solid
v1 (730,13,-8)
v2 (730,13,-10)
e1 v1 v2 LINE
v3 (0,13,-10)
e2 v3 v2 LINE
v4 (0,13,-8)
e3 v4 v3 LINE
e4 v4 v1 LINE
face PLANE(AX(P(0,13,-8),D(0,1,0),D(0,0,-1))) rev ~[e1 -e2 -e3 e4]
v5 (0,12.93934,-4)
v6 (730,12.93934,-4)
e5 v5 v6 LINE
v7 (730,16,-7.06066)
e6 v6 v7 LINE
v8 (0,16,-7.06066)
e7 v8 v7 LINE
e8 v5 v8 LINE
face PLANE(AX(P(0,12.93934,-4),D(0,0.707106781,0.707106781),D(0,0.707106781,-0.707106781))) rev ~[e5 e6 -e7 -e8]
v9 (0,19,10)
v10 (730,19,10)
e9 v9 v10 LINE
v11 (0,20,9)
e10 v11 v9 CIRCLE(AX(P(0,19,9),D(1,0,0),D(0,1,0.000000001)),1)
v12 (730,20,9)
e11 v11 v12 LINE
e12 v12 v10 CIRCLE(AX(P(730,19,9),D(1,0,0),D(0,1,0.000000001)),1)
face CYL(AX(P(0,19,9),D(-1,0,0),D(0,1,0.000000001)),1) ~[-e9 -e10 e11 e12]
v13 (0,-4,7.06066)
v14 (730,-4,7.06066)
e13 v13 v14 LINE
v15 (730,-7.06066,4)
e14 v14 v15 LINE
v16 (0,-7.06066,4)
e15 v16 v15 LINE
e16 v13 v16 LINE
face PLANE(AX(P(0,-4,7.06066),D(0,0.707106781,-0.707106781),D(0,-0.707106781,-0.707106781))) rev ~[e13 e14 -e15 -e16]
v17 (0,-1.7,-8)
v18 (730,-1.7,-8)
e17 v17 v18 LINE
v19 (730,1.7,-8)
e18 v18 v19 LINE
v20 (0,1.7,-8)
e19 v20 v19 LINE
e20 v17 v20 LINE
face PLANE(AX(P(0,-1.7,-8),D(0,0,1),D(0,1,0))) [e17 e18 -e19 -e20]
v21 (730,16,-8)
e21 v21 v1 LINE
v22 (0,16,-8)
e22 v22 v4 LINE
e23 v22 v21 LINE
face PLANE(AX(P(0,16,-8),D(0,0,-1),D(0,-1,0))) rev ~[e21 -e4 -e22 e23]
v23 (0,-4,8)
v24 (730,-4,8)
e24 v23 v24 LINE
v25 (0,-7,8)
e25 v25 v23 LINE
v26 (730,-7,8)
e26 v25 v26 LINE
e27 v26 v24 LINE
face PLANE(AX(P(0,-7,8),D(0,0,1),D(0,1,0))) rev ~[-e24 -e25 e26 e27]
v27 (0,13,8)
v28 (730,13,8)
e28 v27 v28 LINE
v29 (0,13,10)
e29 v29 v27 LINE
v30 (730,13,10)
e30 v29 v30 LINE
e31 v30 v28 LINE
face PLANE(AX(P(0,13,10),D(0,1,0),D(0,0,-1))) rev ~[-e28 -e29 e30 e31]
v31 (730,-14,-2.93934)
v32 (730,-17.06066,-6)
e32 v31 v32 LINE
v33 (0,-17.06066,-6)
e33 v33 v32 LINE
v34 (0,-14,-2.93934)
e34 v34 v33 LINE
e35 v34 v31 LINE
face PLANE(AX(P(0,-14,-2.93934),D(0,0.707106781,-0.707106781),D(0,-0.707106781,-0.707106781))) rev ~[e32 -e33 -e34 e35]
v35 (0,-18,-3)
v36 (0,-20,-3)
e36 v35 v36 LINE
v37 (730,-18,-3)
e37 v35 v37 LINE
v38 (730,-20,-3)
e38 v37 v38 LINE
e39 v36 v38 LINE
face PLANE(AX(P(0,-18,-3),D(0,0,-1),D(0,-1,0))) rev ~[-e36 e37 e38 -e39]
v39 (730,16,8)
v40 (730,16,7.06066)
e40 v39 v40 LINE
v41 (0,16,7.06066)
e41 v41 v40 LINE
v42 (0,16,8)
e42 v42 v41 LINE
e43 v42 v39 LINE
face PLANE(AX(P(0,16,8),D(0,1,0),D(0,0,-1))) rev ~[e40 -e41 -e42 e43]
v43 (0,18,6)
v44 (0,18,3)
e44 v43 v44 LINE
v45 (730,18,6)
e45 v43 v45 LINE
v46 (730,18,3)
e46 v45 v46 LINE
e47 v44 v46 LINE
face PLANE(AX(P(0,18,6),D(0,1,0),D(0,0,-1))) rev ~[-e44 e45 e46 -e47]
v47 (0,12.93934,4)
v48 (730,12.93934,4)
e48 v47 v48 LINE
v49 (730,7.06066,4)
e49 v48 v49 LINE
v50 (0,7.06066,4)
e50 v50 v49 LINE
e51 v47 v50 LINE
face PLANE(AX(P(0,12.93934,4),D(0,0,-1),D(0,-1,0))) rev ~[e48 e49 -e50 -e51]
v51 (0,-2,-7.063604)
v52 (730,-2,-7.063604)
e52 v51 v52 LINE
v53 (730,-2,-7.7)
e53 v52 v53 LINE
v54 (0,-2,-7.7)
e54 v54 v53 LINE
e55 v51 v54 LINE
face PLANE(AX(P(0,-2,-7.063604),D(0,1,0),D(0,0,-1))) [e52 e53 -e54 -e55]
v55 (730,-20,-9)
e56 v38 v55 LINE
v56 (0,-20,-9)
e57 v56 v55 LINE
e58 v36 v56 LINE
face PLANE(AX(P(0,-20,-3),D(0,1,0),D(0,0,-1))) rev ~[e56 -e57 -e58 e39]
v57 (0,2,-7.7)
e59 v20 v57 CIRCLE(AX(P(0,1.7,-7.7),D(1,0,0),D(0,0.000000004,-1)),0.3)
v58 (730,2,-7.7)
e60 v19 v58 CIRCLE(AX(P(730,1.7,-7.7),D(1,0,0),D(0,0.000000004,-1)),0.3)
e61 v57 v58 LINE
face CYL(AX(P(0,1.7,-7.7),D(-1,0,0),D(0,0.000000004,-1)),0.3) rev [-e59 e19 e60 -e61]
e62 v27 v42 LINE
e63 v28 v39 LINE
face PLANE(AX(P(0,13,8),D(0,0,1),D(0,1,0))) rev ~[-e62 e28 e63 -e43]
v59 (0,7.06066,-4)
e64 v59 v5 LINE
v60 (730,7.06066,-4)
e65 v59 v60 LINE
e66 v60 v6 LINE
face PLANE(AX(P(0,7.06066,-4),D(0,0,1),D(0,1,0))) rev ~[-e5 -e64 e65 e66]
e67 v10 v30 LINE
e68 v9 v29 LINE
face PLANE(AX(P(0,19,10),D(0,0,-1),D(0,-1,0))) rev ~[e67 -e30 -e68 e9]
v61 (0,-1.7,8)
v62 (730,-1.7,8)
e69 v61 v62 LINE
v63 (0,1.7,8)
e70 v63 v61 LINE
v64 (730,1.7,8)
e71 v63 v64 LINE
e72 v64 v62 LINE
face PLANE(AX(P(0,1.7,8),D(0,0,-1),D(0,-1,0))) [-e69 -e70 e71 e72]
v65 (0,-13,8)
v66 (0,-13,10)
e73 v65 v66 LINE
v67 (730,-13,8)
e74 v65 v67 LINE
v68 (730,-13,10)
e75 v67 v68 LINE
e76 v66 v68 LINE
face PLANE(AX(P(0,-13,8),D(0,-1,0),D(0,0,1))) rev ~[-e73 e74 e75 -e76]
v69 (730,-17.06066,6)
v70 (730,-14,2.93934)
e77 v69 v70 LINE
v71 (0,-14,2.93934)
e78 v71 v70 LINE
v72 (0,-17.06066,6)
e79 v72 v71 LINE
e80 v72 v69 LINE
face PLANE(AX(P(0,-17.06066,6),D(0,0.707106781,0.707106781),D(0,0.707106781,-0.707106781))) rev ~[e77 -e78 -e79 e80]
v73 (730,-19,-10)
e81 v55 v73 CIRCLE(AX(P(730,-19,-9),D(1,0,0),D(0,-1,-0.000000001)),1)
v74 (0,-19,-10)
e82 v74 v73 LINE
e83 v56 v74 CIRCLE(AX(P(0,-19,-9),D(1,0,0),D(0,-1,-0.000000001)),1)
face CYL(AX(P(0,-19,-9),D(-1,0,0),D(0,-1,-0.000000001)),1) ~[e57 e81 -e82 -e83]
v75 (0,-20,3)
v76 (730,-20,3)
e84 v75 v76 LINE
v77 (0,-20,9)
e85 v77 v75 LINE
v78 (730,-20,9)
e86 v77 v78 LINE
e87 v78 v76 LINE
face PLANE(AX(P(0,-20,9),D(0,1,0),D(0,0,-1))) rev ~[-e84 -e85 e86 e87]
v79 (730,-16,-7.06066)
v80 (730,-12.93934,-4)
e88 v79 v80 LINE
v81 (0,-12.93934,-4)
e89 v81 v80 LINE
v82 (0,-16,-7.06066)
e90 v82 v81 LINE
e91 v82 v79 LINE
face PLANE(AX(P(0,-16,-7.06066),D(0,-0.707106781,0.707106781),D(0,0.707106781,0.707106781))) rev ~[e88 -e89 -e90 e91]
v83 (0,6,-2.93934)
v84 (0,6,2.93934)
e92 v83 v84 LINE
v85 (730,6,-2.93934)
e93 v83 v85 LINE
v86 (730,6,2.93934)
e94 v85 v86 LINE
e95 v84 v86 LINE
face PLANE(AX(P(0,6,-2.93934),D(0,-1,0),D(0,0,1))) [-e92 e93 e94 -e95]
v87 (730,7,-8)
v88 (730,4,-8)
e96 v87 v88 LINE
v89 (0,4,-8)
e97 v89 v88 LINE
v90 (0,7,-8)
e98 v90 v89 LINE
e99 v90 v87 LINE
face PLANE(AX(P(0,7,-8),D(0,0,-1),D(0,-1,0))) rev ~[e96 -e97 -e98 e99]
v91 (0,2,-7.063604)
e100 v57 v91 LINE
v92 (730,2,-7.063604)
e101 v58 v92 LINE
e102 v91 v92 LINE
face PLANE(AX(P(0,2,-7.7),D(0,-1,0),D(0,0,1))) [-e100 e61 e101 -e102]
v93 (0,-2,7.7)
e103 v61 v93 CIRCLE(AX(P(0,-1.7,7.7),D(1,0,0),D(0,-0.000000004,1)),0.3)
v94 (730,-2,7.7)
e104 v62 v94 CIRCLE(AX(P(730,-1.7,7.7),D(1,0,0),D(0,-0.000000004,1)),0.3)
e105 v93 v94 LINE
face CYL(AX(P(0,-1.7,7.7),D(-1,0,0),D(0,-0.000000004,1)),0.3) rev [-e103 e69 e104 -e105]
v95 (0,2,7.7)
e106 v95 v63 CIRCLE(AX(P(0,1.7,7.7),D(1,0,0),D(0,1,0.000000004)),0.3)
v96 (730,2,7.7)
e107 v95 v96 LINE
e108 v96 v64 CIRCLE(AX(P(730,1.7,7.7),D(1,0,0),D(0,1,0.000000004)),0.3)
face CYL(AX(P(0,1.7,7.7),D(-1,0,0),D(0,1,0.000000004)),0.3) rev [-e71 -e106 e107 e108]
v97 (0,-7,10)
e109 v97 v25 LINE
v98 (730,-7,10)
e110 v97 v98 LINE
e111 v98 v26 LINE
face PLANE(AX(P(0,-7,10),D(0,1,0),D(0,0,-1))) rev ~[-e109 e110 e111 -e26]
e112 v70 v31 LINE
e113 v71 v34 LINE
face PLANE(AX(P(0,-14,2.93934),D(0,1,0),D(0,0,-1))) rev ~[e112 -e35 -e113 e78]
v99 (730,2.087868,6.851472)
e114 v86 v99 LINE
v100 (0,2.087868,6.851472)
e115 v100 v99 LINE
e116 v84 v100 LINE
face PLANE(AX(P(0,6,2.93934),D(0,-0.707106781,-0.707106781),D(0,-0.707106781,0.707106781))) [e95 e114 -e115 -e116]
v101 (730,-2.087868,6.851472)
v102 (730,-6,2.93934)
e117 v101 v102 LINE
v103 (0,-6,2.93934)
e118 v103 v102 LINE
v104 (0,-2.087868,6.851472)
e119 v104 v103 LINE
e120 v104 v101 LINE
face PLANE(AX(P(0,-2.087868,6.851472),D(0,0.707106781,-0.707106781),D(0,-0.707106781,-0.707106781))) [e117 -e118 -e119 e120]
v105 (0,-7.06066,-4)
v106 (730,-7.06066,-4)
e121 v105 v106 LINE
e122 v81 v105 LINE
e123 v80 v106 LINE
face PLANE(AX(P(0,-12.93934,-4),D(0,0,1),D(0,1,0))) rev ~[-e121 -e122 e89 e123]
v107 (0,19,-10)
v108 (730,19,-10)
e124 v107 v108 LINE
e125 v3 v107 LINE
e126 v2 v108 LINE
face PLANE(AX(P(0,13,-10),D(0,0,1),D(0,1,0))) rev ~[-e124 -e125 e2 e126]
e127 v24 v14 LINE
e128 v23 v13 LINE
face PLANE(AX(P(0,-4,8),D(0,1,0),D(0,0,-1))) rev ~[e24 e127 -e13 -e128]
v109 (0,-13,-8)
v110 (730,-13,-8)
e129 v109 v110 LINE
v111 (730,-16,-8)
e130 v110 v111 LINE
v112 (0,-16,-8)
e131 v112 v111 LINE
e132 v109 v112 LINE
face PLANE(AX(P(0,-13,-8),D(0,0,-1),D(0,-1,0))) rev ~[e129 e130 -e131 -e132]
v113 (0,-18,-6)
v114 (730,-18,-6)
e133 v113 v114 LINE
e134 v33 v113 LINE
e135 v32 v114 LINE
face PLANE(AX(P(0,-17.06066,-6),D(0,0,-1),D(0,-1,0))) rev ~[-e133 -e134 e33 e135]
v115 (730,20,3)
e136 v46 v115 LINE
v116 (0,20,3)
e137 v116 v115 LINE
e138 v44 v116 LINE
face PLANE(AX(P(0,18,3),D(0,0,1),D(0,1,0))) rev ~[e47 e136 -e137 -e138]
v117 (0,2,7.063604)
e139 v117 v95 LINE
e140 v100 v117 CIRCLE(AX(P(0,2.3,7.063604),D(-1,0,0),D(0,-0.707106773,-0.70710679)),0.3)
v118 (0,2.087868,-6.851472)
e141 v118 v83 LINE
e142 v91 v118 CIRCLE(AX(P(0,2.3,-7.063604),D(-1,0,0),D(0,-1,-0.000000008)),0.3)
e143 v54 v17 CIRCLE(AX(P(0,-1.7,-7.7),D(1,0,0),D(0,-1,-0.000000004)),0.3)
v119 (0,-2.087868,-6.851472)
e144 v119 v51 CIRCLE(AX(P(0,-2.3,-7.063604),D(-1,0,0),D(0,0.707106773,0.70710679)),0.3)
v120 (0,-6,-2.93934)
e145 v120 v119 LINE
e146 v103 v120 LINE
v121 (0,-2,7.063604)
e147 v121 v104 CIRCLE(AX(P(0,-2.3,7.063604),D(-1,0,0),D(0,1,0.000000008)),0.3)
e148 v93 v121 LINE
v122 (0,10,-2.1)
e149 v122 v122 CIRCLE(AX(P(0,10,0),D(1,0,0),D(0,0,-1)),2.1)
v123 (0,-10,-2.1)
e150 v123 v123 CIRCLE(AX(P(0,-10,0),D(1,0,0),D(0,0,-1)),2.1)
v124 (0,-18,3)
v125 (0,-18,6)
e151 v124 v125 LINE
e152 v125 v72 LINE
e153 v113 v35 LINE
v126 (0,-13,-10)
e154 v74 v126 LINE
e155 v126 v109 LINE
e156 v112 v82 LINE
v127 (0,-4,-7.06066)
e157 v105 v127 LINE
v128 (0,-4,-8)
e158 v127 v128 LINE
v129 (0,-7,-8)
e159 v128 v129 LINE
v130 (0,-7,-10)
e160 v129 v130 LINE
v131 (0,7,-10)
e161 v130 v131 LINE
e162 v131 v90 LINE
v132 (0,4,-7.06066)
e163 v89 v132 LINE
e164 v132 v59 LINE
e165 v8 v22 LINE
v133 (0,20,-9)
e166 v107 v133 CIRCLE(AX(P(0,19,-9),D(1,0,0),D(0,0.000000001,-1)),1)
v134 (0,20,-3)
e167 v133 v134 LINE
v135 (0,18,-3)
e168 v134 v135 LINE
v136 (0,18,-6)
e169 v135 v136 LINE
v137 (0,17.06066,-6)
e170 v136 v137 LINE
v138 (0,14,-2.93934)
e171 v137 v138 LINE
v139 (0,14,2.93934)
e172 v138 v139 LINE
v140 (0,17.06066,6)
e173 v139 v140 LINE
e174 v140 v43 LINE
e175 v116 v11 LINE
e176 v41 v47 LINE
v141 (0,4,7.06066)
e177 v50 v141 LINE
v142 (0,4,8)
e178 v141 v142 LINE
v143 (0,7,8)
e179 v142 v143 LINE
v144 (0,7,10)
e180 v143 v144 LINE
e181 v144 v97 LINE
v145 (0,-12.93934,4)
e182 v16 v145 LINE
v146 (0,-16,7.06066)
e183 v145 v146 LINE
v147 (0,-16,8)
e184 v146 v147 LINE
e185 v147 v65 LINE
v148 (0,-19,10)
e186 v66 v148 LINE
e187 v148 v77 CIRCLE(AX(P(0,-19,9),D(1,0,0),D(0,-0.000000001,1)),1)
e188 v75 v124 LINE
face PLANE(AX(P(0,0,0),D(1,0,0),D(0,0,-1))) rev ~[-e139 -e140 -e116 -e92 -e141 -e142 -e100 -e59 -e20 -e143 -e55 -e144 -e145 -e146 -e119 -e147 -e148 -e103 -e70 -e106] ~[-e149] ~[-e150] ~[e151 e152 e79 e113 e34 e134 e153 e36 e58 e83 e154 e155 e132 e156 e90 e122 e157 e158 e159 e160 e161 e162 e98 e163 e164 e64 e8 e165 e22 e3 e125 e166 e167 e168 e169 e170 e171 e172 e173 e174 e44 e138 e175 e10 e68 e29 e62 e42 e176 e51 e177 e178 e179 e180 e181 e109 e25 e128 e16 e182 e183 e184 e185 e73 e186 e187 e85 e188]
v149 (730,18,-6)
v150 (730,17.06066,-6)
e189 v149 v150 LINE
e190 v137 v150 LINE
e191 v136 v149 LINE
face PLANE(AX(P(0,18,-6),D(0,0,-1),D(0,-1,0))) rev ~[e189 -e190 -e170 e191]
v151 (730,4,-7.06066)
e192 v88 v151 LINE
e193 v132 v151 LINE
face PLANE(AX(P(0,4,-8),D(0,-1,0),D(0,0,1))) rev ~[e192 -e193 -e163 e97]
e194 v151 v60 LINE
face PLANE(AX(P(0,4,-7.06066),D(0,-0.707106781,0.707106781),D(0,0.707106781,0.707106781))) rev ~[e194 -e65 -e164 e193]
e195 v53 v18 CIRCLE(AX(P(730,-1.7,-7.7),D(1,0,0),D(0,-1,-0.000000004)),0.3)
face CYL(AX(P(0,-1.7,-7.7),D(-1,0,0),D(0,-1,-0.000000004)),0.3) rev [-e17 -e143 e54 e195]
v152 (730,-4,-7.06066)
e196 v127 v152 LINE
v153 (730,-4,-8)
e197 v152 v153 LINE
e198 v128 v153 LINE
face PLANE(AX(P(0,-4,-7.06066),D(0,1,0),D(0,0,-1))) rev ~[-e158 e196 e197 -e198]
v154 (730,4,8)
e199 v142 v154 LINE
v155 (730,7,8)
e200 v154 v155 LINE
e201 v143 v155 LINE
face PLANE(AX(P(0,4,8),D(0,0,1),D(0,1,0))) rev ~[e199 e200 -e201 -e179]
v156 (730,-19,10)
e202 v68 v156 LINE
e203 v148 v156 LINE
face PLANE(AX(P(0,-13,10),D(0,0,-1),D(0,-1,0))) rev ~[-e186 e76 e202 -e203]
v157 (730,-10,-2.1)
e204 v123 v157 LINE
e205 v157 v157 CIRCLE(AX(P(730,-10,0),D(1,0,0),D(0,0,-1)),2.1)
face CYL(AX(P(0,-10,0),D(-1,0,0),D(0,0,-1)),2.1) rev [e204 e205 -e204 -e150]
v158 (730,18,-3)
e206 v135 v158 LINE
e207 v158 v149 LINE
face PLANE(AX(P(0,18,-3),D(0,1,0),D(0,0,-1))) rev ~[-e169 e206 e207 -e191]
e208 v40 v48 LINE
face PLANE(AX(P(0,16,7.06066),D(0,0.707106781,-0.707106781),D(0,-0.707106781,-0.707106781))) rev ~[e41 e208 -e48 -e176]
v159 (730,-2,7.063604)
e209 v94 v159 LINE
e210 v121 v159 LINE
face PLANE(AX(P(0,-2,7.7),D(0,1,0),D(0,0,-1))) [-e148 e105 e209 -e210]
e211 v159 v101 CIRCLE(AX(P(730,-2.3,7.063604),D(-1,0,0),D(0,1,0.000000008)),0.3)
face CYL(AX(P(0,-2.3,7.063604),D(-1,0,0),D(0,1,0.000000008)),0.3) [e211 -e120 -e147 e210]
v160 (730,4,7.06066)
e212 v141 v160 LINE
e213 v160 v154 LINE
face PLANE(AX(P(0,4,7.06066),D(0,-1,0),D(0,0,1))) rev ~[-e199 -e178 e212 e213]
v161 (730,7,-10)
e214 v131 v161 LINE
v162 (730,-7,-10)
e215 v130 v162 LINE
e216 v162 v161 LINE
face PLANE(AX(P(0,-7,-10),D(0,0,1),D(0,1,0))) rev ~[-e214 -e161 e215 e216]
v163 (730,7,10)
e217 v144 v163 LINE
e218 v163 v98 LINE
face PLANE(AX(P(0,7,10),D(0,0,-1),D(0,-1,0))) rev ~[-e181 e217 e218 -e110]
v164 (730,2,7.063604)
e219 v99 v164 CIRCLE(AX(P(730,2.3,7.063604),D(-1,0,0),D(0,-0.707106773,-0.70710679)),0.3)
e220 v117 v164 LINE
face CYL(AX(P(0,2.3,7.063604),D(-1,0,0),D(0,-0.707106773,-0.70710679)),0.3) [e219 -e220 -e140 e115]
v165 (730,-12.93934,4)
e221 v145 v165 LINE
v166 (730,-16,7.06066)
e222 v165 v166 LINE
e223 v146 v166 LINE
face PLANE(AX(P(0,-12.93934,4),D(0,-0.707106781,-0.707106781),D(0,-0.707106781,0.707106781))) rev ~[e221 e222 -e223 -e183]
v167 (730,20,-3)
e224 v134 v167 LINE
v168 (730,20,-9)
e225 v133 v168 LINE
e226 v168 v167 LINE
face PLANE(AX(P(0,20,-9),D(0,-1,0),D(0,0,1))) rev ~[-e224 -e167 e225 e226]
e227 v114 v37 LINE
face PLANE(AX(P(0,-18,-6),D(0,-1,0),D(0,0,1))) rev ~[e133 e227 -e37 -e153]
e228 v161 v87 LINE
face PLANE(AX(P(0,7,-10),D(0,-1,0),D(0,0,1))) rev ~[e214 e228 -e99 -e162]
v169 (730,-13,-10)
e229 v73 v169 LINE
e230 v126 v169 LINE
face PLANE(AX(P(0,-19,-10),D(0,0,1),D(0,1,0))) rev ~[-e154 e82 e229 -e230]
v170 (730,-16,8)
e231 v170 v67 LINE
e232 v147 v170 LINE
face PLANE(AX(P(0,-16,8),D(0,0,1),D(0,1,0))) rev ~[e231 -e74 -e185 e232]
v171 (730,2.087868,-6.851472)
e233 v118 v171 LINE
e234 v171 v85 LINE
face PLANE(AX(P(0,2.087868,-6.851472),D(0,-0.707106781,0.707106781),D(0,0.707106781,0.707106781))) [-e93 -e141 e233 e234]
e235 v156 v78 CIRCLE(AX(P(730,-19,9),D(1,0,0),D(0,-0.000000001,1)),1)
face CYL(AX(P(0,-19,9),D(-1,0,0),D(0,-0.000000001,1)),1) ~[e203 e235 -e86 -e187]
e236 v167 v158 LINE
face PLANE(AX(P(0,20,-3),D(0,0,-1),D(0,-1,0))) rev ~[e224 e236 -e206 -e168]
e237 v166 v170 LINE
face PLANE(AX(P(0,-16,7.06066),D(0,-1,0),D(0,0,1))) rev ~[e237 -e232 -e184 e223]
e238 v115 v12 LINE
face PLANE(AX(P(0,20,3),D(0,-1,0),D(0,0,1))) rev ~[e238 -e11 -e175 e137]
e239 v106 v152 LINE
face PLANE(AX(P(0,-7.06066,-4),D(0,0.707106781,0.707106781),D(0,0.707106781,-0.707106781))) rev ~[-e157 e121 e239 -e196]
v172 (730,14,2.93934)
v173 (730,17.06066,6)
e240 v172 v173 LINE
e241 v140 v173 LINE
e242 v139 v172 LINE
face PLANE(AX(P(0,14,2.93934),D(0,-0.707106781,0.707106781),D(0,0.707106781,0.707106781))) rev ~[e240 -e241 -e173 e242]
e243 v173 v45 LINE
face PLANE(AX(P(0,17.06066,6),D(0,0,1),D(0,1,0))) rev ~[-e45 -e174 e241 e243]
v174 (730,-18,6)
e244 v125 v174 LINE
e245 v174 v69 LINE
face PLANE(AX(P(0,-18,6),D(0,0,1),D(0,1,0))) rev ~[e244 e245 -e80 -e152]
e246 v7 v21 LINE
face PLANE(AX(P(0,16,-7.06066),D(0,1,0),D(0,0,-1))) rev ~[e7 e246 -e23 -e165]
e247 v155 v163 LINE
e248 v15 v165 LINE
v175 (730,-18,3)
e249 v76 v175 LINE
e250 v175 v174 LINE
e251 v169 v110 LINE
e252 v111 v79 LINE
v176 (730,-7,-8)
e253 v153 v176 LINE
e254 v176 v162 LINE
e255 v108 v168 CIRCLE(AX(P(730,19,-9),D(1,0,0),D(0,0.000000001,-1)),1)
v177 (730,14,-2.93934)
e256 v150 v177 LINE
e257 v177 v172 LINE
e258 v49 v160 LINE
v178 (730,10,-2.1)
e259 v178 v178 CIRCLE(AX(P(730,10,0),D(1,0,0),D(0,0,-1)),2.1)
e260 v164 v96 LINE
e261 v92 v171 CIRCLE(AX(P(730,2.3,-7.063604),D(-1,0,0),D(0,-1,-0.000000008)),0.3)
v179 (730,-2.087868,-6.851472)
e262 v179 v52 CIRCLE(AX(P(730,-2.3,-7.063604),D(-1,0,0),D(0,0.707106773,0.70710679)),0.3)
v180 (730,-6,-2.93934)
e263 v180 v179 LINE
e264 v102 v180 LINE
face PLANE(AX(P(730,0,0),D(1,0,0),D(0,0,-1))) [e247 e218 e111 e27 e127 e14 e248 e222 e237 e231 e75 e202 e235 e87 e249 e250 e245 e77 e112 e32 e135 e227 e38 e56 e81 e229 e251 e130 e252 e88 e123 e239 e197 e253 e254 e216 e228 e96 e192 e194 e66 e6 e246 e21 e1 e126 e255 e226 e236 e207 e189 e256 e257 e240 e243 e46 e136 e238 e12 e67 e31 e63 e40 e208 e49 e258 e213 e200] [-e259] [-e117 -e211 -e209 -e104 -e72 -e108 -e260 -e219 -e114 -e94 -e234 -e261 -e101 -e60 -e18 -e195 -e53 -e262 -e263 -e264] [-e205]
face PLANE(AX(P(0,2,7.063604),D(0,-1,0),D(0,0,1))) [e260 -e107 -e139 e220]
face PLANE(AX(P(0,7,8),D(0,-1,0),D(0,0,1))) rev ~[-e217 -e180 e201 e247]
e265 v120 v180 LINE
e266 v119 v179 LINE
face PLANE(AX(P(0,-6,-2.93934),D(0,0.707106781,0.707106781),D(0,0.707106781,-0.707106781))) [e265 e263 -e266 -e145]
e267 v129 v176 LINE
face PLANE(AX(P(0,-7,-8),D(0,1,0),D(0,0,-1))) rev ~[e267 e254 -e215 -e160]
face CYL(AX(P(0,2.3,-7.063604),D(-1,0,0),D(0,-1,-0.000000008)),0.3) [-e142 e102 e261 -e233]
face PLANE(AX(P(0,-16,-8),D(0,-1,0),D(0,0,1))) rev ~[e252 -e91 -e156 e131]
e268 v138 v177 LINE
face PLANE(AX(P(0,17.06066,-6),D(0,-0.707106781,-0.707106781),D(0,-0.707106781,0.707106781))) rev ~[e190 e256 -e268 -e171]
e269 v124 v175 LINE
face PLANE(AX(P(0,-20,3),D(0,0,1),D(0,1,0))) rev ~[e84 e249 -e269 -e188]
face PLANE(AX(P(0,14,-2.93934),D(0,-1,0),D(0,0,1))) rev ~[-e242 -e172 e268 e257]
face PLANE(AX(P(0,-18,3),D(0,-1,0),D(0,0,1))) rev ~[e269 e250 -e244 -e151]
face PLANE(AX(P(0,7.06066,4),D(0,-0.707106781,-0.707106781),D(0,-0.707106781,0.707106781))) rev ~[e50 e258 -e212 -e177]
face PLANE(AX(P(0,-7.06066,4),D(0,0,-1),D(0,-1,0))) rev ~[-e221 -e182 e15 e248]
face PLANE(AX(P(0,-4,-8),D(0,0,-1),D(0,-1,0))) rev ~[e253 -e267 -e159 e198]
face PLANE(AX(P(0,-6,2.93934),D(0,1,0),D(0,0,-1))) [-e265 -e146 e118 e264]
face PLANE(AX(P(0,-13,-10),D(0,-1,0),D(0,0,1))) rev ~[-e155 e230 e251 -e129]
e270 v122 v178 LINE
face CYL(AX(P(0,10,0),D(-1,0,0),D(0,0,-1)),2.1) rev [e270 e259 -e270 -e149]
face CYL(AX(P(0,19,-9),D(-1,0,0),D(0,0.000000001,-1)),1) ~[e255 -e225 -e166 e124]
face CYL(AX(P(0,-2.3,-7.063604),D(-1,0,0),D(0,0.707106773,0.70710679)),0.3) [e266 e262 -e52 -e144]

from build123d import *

# Parameters (mm, degrees)
SKETCH1_R           = 2.1
BOSS_EXTRUDE1_DEPTH = 730


with BuildPart() as part:
    # Sketch1 → Boss-Extrude1 (new body)
    with BuildSketch(Plane(origin=(0, 0, 0), x_dir=(0, 0, -1), z_dir=(1, 0, 0))):
        with BuildLine():
            Line((-10, -13), (-10, -19))
            ThreePointArc((-10, -19), (-9.707106781, -19.707106781), (-9, -20))
            Line((-9, -20), (-3, -20))
            Line((-3, -20), (-3, -18))
            Line((-3, -18), (-6, -18))
            Line((-6, -18), (-6, -17.060660172))
            Line((-6, -17.060660172), (-2.939339828, -14))
            Line((-2.939339828, -14), (2.939339828, -14))
            Line((2.939339828, -14), (6, -17.060660172))
            Line((6, -17.060660172), (6, -18))
            Line((6, -18), (3, -18))
            Line((3, -18), (3, -20))
            Line((3, -20), (9, -20))
            ThreePointArc((9, -20), (9.707106781, -19.707106781), (10, -19))
            Line((10, -19), (10, -13))
            Line((10, -13), (8, -13))
            Line((8, -13), (8, -16))
            Line((8, -16), (7.060660172, -16))
            Line((7.060660172, -16), (4, -12.939339828))
            Line((4, -12.939339828), (4, -7.060660172))
            Line((4, -7.060660172), (7.060660172, -4))
            Line((7.060660172, -4), (8, -4))
            Line((8, -4), (8, -7))
            Line((8, -7), (10, -7))
            Line((10, -7), (10, 7))
            Line((10, 7), (8, 7))
            Line((8, 7), (8, 4))
            Line((8, 4), (7.060660172, 4))
            Line((7.060660172, 4), (4, 7.060660172))
            Line((4, 7.060660172), (4, 12.939339828))
            Line((4, 12.939339828), (7.060660172, 16))
            Line((7.060660172, 16), (8, 16))
            Line((8, 16), (8, 13))
            Line((8, 13), (10, 13))
            Line((10, 13), (10, 19))
            ThreePointArc((10, 19), (9.707106781, 19.707106781), (9, 20))
            Line((9, 20), (3, 20))
            Line((3, 20), (3, 18))
            Line((3, 18), (6, 18))
            Line((6, 18), (6, 17.060660172))
            Line((6, 17.060660172), (2.939339828, 14))
            Line((2.939339828, 14), (-2.939339828, 14))
            Line((-2.939339828, 14), (-6, 17.060660172))
            Line((-6, 17.060660172), (-6, 18))
            Line((-6, 18), (-3, 18))
            Line((-3, 18), (-3, 20))
            Line((-3, 20), (-9, 20))
            ThreePointArc((-9, 20), (-9.707106781, 19.707106781), (-10, 19))
            Line((-10, 19), (-10, 13))
            Line((-10, 13), (-8, 13))
            Line((-8, 13), (-8, 16))
            Line((-8, 16), (-7.060660172, 16))
            Line((-7.060660172, 16), (-4, 12.939339828))
            Line((-4, 12.939339828), (-4, 7.060660172))
            Line((-4, 7.060660172), (-7.060660172, 4))
            Line((-7.060660172, 4), (-8, 4))
            Line((-8, 4), (-8, 7))
            Line((-8, 7), (-10, 7))
            Line((-10, 7), (-10, -7))
            Line((-10, -7), (-8, -7))
            Line((-8, -7), (-8, -4))
            Line((-8, -4), (-7.060660172, -4))
            Line((-7.060660172, -4), (-4, -7.060660172))
            Line((-4, -7.060660172), (-4, -12.939339828))
            Line((-4, -12.939339828), (-7.060660172, -16))
            Line((-7.060660172, -16), (-8, -16))
            Line((-8, -16), (-8, -13))
            Line((-8, -13), (-10, -13))
        make_face()
        with Locations((0, 10)):
            Circle(SKETCH1_R, mode=Mode.SUBTRACT)
        with Locations((0, -10)):
            Circle(SKETCH1_R, mode=Mode.SUBTRACT)
        with BuildLine():
            Line((-8, 1.7), (-8, -1.7))
            ThreePointArc((-8, -1.7), (-7.912132034, -1.912132034), (-7.7, -2))
            Line((-7.7, -2), (-7.063603897, -2))
            ThreePointArc((-7.063603897, -2), (-6.948798867, -2.02283614), (-6.851471863, -2.087867966))
            Line((-6.851471863, -2.087867966), (-2.939339828, -6))
            Line((-2.939339828, -6), (2.939339828, -6))
            Line((2.939339828, -6), (6.851471863, -2.087867966))
            ThreePointArc((6.851471863, -2.087867966), (6.948798867, -2.02283614), (7.063603897, -2))
            Line((7.063603897, -2), (7.7, -2))
            ThreePointArc((7.7, -2), (7.912132034, -1.912132034), (8, -1.7))
            Line((8, -1.7), (8, 1.7))
            ThreePointArc((8, 1.7), (7.912132034, 1.912132034), (7.7, 2))
            Line((7.7, 2), (7.063603897, 2))
            ThreePointArc((7.063603897, 2), (6.948798867, 2.02283614), (6.851471863, 2.087867966))
            Line((6.851471863, 2.087867966), (2.939339828, 6))
            Line((2.939339828, 6), (-2.939339828, 6))
            Line((-2.939339828, 6), (-6.851471863, 2.087867966))
            ThreePointArc((-6.851471863, 2.087867966), (-6.948798867, 2.02283614), (-7.063603897, 2))
            Line((-7.063603897, 2), (-7.7, 2))
            ThreePointArc((-7.7, 2), (-7.912132034, 1.912132034), (-8, 1.7))
        make_face(mode=Mode.SUBTRACT)
    extrude(amount=BOSS_EXTRUDE1_DEPTH)


solid = part.part
